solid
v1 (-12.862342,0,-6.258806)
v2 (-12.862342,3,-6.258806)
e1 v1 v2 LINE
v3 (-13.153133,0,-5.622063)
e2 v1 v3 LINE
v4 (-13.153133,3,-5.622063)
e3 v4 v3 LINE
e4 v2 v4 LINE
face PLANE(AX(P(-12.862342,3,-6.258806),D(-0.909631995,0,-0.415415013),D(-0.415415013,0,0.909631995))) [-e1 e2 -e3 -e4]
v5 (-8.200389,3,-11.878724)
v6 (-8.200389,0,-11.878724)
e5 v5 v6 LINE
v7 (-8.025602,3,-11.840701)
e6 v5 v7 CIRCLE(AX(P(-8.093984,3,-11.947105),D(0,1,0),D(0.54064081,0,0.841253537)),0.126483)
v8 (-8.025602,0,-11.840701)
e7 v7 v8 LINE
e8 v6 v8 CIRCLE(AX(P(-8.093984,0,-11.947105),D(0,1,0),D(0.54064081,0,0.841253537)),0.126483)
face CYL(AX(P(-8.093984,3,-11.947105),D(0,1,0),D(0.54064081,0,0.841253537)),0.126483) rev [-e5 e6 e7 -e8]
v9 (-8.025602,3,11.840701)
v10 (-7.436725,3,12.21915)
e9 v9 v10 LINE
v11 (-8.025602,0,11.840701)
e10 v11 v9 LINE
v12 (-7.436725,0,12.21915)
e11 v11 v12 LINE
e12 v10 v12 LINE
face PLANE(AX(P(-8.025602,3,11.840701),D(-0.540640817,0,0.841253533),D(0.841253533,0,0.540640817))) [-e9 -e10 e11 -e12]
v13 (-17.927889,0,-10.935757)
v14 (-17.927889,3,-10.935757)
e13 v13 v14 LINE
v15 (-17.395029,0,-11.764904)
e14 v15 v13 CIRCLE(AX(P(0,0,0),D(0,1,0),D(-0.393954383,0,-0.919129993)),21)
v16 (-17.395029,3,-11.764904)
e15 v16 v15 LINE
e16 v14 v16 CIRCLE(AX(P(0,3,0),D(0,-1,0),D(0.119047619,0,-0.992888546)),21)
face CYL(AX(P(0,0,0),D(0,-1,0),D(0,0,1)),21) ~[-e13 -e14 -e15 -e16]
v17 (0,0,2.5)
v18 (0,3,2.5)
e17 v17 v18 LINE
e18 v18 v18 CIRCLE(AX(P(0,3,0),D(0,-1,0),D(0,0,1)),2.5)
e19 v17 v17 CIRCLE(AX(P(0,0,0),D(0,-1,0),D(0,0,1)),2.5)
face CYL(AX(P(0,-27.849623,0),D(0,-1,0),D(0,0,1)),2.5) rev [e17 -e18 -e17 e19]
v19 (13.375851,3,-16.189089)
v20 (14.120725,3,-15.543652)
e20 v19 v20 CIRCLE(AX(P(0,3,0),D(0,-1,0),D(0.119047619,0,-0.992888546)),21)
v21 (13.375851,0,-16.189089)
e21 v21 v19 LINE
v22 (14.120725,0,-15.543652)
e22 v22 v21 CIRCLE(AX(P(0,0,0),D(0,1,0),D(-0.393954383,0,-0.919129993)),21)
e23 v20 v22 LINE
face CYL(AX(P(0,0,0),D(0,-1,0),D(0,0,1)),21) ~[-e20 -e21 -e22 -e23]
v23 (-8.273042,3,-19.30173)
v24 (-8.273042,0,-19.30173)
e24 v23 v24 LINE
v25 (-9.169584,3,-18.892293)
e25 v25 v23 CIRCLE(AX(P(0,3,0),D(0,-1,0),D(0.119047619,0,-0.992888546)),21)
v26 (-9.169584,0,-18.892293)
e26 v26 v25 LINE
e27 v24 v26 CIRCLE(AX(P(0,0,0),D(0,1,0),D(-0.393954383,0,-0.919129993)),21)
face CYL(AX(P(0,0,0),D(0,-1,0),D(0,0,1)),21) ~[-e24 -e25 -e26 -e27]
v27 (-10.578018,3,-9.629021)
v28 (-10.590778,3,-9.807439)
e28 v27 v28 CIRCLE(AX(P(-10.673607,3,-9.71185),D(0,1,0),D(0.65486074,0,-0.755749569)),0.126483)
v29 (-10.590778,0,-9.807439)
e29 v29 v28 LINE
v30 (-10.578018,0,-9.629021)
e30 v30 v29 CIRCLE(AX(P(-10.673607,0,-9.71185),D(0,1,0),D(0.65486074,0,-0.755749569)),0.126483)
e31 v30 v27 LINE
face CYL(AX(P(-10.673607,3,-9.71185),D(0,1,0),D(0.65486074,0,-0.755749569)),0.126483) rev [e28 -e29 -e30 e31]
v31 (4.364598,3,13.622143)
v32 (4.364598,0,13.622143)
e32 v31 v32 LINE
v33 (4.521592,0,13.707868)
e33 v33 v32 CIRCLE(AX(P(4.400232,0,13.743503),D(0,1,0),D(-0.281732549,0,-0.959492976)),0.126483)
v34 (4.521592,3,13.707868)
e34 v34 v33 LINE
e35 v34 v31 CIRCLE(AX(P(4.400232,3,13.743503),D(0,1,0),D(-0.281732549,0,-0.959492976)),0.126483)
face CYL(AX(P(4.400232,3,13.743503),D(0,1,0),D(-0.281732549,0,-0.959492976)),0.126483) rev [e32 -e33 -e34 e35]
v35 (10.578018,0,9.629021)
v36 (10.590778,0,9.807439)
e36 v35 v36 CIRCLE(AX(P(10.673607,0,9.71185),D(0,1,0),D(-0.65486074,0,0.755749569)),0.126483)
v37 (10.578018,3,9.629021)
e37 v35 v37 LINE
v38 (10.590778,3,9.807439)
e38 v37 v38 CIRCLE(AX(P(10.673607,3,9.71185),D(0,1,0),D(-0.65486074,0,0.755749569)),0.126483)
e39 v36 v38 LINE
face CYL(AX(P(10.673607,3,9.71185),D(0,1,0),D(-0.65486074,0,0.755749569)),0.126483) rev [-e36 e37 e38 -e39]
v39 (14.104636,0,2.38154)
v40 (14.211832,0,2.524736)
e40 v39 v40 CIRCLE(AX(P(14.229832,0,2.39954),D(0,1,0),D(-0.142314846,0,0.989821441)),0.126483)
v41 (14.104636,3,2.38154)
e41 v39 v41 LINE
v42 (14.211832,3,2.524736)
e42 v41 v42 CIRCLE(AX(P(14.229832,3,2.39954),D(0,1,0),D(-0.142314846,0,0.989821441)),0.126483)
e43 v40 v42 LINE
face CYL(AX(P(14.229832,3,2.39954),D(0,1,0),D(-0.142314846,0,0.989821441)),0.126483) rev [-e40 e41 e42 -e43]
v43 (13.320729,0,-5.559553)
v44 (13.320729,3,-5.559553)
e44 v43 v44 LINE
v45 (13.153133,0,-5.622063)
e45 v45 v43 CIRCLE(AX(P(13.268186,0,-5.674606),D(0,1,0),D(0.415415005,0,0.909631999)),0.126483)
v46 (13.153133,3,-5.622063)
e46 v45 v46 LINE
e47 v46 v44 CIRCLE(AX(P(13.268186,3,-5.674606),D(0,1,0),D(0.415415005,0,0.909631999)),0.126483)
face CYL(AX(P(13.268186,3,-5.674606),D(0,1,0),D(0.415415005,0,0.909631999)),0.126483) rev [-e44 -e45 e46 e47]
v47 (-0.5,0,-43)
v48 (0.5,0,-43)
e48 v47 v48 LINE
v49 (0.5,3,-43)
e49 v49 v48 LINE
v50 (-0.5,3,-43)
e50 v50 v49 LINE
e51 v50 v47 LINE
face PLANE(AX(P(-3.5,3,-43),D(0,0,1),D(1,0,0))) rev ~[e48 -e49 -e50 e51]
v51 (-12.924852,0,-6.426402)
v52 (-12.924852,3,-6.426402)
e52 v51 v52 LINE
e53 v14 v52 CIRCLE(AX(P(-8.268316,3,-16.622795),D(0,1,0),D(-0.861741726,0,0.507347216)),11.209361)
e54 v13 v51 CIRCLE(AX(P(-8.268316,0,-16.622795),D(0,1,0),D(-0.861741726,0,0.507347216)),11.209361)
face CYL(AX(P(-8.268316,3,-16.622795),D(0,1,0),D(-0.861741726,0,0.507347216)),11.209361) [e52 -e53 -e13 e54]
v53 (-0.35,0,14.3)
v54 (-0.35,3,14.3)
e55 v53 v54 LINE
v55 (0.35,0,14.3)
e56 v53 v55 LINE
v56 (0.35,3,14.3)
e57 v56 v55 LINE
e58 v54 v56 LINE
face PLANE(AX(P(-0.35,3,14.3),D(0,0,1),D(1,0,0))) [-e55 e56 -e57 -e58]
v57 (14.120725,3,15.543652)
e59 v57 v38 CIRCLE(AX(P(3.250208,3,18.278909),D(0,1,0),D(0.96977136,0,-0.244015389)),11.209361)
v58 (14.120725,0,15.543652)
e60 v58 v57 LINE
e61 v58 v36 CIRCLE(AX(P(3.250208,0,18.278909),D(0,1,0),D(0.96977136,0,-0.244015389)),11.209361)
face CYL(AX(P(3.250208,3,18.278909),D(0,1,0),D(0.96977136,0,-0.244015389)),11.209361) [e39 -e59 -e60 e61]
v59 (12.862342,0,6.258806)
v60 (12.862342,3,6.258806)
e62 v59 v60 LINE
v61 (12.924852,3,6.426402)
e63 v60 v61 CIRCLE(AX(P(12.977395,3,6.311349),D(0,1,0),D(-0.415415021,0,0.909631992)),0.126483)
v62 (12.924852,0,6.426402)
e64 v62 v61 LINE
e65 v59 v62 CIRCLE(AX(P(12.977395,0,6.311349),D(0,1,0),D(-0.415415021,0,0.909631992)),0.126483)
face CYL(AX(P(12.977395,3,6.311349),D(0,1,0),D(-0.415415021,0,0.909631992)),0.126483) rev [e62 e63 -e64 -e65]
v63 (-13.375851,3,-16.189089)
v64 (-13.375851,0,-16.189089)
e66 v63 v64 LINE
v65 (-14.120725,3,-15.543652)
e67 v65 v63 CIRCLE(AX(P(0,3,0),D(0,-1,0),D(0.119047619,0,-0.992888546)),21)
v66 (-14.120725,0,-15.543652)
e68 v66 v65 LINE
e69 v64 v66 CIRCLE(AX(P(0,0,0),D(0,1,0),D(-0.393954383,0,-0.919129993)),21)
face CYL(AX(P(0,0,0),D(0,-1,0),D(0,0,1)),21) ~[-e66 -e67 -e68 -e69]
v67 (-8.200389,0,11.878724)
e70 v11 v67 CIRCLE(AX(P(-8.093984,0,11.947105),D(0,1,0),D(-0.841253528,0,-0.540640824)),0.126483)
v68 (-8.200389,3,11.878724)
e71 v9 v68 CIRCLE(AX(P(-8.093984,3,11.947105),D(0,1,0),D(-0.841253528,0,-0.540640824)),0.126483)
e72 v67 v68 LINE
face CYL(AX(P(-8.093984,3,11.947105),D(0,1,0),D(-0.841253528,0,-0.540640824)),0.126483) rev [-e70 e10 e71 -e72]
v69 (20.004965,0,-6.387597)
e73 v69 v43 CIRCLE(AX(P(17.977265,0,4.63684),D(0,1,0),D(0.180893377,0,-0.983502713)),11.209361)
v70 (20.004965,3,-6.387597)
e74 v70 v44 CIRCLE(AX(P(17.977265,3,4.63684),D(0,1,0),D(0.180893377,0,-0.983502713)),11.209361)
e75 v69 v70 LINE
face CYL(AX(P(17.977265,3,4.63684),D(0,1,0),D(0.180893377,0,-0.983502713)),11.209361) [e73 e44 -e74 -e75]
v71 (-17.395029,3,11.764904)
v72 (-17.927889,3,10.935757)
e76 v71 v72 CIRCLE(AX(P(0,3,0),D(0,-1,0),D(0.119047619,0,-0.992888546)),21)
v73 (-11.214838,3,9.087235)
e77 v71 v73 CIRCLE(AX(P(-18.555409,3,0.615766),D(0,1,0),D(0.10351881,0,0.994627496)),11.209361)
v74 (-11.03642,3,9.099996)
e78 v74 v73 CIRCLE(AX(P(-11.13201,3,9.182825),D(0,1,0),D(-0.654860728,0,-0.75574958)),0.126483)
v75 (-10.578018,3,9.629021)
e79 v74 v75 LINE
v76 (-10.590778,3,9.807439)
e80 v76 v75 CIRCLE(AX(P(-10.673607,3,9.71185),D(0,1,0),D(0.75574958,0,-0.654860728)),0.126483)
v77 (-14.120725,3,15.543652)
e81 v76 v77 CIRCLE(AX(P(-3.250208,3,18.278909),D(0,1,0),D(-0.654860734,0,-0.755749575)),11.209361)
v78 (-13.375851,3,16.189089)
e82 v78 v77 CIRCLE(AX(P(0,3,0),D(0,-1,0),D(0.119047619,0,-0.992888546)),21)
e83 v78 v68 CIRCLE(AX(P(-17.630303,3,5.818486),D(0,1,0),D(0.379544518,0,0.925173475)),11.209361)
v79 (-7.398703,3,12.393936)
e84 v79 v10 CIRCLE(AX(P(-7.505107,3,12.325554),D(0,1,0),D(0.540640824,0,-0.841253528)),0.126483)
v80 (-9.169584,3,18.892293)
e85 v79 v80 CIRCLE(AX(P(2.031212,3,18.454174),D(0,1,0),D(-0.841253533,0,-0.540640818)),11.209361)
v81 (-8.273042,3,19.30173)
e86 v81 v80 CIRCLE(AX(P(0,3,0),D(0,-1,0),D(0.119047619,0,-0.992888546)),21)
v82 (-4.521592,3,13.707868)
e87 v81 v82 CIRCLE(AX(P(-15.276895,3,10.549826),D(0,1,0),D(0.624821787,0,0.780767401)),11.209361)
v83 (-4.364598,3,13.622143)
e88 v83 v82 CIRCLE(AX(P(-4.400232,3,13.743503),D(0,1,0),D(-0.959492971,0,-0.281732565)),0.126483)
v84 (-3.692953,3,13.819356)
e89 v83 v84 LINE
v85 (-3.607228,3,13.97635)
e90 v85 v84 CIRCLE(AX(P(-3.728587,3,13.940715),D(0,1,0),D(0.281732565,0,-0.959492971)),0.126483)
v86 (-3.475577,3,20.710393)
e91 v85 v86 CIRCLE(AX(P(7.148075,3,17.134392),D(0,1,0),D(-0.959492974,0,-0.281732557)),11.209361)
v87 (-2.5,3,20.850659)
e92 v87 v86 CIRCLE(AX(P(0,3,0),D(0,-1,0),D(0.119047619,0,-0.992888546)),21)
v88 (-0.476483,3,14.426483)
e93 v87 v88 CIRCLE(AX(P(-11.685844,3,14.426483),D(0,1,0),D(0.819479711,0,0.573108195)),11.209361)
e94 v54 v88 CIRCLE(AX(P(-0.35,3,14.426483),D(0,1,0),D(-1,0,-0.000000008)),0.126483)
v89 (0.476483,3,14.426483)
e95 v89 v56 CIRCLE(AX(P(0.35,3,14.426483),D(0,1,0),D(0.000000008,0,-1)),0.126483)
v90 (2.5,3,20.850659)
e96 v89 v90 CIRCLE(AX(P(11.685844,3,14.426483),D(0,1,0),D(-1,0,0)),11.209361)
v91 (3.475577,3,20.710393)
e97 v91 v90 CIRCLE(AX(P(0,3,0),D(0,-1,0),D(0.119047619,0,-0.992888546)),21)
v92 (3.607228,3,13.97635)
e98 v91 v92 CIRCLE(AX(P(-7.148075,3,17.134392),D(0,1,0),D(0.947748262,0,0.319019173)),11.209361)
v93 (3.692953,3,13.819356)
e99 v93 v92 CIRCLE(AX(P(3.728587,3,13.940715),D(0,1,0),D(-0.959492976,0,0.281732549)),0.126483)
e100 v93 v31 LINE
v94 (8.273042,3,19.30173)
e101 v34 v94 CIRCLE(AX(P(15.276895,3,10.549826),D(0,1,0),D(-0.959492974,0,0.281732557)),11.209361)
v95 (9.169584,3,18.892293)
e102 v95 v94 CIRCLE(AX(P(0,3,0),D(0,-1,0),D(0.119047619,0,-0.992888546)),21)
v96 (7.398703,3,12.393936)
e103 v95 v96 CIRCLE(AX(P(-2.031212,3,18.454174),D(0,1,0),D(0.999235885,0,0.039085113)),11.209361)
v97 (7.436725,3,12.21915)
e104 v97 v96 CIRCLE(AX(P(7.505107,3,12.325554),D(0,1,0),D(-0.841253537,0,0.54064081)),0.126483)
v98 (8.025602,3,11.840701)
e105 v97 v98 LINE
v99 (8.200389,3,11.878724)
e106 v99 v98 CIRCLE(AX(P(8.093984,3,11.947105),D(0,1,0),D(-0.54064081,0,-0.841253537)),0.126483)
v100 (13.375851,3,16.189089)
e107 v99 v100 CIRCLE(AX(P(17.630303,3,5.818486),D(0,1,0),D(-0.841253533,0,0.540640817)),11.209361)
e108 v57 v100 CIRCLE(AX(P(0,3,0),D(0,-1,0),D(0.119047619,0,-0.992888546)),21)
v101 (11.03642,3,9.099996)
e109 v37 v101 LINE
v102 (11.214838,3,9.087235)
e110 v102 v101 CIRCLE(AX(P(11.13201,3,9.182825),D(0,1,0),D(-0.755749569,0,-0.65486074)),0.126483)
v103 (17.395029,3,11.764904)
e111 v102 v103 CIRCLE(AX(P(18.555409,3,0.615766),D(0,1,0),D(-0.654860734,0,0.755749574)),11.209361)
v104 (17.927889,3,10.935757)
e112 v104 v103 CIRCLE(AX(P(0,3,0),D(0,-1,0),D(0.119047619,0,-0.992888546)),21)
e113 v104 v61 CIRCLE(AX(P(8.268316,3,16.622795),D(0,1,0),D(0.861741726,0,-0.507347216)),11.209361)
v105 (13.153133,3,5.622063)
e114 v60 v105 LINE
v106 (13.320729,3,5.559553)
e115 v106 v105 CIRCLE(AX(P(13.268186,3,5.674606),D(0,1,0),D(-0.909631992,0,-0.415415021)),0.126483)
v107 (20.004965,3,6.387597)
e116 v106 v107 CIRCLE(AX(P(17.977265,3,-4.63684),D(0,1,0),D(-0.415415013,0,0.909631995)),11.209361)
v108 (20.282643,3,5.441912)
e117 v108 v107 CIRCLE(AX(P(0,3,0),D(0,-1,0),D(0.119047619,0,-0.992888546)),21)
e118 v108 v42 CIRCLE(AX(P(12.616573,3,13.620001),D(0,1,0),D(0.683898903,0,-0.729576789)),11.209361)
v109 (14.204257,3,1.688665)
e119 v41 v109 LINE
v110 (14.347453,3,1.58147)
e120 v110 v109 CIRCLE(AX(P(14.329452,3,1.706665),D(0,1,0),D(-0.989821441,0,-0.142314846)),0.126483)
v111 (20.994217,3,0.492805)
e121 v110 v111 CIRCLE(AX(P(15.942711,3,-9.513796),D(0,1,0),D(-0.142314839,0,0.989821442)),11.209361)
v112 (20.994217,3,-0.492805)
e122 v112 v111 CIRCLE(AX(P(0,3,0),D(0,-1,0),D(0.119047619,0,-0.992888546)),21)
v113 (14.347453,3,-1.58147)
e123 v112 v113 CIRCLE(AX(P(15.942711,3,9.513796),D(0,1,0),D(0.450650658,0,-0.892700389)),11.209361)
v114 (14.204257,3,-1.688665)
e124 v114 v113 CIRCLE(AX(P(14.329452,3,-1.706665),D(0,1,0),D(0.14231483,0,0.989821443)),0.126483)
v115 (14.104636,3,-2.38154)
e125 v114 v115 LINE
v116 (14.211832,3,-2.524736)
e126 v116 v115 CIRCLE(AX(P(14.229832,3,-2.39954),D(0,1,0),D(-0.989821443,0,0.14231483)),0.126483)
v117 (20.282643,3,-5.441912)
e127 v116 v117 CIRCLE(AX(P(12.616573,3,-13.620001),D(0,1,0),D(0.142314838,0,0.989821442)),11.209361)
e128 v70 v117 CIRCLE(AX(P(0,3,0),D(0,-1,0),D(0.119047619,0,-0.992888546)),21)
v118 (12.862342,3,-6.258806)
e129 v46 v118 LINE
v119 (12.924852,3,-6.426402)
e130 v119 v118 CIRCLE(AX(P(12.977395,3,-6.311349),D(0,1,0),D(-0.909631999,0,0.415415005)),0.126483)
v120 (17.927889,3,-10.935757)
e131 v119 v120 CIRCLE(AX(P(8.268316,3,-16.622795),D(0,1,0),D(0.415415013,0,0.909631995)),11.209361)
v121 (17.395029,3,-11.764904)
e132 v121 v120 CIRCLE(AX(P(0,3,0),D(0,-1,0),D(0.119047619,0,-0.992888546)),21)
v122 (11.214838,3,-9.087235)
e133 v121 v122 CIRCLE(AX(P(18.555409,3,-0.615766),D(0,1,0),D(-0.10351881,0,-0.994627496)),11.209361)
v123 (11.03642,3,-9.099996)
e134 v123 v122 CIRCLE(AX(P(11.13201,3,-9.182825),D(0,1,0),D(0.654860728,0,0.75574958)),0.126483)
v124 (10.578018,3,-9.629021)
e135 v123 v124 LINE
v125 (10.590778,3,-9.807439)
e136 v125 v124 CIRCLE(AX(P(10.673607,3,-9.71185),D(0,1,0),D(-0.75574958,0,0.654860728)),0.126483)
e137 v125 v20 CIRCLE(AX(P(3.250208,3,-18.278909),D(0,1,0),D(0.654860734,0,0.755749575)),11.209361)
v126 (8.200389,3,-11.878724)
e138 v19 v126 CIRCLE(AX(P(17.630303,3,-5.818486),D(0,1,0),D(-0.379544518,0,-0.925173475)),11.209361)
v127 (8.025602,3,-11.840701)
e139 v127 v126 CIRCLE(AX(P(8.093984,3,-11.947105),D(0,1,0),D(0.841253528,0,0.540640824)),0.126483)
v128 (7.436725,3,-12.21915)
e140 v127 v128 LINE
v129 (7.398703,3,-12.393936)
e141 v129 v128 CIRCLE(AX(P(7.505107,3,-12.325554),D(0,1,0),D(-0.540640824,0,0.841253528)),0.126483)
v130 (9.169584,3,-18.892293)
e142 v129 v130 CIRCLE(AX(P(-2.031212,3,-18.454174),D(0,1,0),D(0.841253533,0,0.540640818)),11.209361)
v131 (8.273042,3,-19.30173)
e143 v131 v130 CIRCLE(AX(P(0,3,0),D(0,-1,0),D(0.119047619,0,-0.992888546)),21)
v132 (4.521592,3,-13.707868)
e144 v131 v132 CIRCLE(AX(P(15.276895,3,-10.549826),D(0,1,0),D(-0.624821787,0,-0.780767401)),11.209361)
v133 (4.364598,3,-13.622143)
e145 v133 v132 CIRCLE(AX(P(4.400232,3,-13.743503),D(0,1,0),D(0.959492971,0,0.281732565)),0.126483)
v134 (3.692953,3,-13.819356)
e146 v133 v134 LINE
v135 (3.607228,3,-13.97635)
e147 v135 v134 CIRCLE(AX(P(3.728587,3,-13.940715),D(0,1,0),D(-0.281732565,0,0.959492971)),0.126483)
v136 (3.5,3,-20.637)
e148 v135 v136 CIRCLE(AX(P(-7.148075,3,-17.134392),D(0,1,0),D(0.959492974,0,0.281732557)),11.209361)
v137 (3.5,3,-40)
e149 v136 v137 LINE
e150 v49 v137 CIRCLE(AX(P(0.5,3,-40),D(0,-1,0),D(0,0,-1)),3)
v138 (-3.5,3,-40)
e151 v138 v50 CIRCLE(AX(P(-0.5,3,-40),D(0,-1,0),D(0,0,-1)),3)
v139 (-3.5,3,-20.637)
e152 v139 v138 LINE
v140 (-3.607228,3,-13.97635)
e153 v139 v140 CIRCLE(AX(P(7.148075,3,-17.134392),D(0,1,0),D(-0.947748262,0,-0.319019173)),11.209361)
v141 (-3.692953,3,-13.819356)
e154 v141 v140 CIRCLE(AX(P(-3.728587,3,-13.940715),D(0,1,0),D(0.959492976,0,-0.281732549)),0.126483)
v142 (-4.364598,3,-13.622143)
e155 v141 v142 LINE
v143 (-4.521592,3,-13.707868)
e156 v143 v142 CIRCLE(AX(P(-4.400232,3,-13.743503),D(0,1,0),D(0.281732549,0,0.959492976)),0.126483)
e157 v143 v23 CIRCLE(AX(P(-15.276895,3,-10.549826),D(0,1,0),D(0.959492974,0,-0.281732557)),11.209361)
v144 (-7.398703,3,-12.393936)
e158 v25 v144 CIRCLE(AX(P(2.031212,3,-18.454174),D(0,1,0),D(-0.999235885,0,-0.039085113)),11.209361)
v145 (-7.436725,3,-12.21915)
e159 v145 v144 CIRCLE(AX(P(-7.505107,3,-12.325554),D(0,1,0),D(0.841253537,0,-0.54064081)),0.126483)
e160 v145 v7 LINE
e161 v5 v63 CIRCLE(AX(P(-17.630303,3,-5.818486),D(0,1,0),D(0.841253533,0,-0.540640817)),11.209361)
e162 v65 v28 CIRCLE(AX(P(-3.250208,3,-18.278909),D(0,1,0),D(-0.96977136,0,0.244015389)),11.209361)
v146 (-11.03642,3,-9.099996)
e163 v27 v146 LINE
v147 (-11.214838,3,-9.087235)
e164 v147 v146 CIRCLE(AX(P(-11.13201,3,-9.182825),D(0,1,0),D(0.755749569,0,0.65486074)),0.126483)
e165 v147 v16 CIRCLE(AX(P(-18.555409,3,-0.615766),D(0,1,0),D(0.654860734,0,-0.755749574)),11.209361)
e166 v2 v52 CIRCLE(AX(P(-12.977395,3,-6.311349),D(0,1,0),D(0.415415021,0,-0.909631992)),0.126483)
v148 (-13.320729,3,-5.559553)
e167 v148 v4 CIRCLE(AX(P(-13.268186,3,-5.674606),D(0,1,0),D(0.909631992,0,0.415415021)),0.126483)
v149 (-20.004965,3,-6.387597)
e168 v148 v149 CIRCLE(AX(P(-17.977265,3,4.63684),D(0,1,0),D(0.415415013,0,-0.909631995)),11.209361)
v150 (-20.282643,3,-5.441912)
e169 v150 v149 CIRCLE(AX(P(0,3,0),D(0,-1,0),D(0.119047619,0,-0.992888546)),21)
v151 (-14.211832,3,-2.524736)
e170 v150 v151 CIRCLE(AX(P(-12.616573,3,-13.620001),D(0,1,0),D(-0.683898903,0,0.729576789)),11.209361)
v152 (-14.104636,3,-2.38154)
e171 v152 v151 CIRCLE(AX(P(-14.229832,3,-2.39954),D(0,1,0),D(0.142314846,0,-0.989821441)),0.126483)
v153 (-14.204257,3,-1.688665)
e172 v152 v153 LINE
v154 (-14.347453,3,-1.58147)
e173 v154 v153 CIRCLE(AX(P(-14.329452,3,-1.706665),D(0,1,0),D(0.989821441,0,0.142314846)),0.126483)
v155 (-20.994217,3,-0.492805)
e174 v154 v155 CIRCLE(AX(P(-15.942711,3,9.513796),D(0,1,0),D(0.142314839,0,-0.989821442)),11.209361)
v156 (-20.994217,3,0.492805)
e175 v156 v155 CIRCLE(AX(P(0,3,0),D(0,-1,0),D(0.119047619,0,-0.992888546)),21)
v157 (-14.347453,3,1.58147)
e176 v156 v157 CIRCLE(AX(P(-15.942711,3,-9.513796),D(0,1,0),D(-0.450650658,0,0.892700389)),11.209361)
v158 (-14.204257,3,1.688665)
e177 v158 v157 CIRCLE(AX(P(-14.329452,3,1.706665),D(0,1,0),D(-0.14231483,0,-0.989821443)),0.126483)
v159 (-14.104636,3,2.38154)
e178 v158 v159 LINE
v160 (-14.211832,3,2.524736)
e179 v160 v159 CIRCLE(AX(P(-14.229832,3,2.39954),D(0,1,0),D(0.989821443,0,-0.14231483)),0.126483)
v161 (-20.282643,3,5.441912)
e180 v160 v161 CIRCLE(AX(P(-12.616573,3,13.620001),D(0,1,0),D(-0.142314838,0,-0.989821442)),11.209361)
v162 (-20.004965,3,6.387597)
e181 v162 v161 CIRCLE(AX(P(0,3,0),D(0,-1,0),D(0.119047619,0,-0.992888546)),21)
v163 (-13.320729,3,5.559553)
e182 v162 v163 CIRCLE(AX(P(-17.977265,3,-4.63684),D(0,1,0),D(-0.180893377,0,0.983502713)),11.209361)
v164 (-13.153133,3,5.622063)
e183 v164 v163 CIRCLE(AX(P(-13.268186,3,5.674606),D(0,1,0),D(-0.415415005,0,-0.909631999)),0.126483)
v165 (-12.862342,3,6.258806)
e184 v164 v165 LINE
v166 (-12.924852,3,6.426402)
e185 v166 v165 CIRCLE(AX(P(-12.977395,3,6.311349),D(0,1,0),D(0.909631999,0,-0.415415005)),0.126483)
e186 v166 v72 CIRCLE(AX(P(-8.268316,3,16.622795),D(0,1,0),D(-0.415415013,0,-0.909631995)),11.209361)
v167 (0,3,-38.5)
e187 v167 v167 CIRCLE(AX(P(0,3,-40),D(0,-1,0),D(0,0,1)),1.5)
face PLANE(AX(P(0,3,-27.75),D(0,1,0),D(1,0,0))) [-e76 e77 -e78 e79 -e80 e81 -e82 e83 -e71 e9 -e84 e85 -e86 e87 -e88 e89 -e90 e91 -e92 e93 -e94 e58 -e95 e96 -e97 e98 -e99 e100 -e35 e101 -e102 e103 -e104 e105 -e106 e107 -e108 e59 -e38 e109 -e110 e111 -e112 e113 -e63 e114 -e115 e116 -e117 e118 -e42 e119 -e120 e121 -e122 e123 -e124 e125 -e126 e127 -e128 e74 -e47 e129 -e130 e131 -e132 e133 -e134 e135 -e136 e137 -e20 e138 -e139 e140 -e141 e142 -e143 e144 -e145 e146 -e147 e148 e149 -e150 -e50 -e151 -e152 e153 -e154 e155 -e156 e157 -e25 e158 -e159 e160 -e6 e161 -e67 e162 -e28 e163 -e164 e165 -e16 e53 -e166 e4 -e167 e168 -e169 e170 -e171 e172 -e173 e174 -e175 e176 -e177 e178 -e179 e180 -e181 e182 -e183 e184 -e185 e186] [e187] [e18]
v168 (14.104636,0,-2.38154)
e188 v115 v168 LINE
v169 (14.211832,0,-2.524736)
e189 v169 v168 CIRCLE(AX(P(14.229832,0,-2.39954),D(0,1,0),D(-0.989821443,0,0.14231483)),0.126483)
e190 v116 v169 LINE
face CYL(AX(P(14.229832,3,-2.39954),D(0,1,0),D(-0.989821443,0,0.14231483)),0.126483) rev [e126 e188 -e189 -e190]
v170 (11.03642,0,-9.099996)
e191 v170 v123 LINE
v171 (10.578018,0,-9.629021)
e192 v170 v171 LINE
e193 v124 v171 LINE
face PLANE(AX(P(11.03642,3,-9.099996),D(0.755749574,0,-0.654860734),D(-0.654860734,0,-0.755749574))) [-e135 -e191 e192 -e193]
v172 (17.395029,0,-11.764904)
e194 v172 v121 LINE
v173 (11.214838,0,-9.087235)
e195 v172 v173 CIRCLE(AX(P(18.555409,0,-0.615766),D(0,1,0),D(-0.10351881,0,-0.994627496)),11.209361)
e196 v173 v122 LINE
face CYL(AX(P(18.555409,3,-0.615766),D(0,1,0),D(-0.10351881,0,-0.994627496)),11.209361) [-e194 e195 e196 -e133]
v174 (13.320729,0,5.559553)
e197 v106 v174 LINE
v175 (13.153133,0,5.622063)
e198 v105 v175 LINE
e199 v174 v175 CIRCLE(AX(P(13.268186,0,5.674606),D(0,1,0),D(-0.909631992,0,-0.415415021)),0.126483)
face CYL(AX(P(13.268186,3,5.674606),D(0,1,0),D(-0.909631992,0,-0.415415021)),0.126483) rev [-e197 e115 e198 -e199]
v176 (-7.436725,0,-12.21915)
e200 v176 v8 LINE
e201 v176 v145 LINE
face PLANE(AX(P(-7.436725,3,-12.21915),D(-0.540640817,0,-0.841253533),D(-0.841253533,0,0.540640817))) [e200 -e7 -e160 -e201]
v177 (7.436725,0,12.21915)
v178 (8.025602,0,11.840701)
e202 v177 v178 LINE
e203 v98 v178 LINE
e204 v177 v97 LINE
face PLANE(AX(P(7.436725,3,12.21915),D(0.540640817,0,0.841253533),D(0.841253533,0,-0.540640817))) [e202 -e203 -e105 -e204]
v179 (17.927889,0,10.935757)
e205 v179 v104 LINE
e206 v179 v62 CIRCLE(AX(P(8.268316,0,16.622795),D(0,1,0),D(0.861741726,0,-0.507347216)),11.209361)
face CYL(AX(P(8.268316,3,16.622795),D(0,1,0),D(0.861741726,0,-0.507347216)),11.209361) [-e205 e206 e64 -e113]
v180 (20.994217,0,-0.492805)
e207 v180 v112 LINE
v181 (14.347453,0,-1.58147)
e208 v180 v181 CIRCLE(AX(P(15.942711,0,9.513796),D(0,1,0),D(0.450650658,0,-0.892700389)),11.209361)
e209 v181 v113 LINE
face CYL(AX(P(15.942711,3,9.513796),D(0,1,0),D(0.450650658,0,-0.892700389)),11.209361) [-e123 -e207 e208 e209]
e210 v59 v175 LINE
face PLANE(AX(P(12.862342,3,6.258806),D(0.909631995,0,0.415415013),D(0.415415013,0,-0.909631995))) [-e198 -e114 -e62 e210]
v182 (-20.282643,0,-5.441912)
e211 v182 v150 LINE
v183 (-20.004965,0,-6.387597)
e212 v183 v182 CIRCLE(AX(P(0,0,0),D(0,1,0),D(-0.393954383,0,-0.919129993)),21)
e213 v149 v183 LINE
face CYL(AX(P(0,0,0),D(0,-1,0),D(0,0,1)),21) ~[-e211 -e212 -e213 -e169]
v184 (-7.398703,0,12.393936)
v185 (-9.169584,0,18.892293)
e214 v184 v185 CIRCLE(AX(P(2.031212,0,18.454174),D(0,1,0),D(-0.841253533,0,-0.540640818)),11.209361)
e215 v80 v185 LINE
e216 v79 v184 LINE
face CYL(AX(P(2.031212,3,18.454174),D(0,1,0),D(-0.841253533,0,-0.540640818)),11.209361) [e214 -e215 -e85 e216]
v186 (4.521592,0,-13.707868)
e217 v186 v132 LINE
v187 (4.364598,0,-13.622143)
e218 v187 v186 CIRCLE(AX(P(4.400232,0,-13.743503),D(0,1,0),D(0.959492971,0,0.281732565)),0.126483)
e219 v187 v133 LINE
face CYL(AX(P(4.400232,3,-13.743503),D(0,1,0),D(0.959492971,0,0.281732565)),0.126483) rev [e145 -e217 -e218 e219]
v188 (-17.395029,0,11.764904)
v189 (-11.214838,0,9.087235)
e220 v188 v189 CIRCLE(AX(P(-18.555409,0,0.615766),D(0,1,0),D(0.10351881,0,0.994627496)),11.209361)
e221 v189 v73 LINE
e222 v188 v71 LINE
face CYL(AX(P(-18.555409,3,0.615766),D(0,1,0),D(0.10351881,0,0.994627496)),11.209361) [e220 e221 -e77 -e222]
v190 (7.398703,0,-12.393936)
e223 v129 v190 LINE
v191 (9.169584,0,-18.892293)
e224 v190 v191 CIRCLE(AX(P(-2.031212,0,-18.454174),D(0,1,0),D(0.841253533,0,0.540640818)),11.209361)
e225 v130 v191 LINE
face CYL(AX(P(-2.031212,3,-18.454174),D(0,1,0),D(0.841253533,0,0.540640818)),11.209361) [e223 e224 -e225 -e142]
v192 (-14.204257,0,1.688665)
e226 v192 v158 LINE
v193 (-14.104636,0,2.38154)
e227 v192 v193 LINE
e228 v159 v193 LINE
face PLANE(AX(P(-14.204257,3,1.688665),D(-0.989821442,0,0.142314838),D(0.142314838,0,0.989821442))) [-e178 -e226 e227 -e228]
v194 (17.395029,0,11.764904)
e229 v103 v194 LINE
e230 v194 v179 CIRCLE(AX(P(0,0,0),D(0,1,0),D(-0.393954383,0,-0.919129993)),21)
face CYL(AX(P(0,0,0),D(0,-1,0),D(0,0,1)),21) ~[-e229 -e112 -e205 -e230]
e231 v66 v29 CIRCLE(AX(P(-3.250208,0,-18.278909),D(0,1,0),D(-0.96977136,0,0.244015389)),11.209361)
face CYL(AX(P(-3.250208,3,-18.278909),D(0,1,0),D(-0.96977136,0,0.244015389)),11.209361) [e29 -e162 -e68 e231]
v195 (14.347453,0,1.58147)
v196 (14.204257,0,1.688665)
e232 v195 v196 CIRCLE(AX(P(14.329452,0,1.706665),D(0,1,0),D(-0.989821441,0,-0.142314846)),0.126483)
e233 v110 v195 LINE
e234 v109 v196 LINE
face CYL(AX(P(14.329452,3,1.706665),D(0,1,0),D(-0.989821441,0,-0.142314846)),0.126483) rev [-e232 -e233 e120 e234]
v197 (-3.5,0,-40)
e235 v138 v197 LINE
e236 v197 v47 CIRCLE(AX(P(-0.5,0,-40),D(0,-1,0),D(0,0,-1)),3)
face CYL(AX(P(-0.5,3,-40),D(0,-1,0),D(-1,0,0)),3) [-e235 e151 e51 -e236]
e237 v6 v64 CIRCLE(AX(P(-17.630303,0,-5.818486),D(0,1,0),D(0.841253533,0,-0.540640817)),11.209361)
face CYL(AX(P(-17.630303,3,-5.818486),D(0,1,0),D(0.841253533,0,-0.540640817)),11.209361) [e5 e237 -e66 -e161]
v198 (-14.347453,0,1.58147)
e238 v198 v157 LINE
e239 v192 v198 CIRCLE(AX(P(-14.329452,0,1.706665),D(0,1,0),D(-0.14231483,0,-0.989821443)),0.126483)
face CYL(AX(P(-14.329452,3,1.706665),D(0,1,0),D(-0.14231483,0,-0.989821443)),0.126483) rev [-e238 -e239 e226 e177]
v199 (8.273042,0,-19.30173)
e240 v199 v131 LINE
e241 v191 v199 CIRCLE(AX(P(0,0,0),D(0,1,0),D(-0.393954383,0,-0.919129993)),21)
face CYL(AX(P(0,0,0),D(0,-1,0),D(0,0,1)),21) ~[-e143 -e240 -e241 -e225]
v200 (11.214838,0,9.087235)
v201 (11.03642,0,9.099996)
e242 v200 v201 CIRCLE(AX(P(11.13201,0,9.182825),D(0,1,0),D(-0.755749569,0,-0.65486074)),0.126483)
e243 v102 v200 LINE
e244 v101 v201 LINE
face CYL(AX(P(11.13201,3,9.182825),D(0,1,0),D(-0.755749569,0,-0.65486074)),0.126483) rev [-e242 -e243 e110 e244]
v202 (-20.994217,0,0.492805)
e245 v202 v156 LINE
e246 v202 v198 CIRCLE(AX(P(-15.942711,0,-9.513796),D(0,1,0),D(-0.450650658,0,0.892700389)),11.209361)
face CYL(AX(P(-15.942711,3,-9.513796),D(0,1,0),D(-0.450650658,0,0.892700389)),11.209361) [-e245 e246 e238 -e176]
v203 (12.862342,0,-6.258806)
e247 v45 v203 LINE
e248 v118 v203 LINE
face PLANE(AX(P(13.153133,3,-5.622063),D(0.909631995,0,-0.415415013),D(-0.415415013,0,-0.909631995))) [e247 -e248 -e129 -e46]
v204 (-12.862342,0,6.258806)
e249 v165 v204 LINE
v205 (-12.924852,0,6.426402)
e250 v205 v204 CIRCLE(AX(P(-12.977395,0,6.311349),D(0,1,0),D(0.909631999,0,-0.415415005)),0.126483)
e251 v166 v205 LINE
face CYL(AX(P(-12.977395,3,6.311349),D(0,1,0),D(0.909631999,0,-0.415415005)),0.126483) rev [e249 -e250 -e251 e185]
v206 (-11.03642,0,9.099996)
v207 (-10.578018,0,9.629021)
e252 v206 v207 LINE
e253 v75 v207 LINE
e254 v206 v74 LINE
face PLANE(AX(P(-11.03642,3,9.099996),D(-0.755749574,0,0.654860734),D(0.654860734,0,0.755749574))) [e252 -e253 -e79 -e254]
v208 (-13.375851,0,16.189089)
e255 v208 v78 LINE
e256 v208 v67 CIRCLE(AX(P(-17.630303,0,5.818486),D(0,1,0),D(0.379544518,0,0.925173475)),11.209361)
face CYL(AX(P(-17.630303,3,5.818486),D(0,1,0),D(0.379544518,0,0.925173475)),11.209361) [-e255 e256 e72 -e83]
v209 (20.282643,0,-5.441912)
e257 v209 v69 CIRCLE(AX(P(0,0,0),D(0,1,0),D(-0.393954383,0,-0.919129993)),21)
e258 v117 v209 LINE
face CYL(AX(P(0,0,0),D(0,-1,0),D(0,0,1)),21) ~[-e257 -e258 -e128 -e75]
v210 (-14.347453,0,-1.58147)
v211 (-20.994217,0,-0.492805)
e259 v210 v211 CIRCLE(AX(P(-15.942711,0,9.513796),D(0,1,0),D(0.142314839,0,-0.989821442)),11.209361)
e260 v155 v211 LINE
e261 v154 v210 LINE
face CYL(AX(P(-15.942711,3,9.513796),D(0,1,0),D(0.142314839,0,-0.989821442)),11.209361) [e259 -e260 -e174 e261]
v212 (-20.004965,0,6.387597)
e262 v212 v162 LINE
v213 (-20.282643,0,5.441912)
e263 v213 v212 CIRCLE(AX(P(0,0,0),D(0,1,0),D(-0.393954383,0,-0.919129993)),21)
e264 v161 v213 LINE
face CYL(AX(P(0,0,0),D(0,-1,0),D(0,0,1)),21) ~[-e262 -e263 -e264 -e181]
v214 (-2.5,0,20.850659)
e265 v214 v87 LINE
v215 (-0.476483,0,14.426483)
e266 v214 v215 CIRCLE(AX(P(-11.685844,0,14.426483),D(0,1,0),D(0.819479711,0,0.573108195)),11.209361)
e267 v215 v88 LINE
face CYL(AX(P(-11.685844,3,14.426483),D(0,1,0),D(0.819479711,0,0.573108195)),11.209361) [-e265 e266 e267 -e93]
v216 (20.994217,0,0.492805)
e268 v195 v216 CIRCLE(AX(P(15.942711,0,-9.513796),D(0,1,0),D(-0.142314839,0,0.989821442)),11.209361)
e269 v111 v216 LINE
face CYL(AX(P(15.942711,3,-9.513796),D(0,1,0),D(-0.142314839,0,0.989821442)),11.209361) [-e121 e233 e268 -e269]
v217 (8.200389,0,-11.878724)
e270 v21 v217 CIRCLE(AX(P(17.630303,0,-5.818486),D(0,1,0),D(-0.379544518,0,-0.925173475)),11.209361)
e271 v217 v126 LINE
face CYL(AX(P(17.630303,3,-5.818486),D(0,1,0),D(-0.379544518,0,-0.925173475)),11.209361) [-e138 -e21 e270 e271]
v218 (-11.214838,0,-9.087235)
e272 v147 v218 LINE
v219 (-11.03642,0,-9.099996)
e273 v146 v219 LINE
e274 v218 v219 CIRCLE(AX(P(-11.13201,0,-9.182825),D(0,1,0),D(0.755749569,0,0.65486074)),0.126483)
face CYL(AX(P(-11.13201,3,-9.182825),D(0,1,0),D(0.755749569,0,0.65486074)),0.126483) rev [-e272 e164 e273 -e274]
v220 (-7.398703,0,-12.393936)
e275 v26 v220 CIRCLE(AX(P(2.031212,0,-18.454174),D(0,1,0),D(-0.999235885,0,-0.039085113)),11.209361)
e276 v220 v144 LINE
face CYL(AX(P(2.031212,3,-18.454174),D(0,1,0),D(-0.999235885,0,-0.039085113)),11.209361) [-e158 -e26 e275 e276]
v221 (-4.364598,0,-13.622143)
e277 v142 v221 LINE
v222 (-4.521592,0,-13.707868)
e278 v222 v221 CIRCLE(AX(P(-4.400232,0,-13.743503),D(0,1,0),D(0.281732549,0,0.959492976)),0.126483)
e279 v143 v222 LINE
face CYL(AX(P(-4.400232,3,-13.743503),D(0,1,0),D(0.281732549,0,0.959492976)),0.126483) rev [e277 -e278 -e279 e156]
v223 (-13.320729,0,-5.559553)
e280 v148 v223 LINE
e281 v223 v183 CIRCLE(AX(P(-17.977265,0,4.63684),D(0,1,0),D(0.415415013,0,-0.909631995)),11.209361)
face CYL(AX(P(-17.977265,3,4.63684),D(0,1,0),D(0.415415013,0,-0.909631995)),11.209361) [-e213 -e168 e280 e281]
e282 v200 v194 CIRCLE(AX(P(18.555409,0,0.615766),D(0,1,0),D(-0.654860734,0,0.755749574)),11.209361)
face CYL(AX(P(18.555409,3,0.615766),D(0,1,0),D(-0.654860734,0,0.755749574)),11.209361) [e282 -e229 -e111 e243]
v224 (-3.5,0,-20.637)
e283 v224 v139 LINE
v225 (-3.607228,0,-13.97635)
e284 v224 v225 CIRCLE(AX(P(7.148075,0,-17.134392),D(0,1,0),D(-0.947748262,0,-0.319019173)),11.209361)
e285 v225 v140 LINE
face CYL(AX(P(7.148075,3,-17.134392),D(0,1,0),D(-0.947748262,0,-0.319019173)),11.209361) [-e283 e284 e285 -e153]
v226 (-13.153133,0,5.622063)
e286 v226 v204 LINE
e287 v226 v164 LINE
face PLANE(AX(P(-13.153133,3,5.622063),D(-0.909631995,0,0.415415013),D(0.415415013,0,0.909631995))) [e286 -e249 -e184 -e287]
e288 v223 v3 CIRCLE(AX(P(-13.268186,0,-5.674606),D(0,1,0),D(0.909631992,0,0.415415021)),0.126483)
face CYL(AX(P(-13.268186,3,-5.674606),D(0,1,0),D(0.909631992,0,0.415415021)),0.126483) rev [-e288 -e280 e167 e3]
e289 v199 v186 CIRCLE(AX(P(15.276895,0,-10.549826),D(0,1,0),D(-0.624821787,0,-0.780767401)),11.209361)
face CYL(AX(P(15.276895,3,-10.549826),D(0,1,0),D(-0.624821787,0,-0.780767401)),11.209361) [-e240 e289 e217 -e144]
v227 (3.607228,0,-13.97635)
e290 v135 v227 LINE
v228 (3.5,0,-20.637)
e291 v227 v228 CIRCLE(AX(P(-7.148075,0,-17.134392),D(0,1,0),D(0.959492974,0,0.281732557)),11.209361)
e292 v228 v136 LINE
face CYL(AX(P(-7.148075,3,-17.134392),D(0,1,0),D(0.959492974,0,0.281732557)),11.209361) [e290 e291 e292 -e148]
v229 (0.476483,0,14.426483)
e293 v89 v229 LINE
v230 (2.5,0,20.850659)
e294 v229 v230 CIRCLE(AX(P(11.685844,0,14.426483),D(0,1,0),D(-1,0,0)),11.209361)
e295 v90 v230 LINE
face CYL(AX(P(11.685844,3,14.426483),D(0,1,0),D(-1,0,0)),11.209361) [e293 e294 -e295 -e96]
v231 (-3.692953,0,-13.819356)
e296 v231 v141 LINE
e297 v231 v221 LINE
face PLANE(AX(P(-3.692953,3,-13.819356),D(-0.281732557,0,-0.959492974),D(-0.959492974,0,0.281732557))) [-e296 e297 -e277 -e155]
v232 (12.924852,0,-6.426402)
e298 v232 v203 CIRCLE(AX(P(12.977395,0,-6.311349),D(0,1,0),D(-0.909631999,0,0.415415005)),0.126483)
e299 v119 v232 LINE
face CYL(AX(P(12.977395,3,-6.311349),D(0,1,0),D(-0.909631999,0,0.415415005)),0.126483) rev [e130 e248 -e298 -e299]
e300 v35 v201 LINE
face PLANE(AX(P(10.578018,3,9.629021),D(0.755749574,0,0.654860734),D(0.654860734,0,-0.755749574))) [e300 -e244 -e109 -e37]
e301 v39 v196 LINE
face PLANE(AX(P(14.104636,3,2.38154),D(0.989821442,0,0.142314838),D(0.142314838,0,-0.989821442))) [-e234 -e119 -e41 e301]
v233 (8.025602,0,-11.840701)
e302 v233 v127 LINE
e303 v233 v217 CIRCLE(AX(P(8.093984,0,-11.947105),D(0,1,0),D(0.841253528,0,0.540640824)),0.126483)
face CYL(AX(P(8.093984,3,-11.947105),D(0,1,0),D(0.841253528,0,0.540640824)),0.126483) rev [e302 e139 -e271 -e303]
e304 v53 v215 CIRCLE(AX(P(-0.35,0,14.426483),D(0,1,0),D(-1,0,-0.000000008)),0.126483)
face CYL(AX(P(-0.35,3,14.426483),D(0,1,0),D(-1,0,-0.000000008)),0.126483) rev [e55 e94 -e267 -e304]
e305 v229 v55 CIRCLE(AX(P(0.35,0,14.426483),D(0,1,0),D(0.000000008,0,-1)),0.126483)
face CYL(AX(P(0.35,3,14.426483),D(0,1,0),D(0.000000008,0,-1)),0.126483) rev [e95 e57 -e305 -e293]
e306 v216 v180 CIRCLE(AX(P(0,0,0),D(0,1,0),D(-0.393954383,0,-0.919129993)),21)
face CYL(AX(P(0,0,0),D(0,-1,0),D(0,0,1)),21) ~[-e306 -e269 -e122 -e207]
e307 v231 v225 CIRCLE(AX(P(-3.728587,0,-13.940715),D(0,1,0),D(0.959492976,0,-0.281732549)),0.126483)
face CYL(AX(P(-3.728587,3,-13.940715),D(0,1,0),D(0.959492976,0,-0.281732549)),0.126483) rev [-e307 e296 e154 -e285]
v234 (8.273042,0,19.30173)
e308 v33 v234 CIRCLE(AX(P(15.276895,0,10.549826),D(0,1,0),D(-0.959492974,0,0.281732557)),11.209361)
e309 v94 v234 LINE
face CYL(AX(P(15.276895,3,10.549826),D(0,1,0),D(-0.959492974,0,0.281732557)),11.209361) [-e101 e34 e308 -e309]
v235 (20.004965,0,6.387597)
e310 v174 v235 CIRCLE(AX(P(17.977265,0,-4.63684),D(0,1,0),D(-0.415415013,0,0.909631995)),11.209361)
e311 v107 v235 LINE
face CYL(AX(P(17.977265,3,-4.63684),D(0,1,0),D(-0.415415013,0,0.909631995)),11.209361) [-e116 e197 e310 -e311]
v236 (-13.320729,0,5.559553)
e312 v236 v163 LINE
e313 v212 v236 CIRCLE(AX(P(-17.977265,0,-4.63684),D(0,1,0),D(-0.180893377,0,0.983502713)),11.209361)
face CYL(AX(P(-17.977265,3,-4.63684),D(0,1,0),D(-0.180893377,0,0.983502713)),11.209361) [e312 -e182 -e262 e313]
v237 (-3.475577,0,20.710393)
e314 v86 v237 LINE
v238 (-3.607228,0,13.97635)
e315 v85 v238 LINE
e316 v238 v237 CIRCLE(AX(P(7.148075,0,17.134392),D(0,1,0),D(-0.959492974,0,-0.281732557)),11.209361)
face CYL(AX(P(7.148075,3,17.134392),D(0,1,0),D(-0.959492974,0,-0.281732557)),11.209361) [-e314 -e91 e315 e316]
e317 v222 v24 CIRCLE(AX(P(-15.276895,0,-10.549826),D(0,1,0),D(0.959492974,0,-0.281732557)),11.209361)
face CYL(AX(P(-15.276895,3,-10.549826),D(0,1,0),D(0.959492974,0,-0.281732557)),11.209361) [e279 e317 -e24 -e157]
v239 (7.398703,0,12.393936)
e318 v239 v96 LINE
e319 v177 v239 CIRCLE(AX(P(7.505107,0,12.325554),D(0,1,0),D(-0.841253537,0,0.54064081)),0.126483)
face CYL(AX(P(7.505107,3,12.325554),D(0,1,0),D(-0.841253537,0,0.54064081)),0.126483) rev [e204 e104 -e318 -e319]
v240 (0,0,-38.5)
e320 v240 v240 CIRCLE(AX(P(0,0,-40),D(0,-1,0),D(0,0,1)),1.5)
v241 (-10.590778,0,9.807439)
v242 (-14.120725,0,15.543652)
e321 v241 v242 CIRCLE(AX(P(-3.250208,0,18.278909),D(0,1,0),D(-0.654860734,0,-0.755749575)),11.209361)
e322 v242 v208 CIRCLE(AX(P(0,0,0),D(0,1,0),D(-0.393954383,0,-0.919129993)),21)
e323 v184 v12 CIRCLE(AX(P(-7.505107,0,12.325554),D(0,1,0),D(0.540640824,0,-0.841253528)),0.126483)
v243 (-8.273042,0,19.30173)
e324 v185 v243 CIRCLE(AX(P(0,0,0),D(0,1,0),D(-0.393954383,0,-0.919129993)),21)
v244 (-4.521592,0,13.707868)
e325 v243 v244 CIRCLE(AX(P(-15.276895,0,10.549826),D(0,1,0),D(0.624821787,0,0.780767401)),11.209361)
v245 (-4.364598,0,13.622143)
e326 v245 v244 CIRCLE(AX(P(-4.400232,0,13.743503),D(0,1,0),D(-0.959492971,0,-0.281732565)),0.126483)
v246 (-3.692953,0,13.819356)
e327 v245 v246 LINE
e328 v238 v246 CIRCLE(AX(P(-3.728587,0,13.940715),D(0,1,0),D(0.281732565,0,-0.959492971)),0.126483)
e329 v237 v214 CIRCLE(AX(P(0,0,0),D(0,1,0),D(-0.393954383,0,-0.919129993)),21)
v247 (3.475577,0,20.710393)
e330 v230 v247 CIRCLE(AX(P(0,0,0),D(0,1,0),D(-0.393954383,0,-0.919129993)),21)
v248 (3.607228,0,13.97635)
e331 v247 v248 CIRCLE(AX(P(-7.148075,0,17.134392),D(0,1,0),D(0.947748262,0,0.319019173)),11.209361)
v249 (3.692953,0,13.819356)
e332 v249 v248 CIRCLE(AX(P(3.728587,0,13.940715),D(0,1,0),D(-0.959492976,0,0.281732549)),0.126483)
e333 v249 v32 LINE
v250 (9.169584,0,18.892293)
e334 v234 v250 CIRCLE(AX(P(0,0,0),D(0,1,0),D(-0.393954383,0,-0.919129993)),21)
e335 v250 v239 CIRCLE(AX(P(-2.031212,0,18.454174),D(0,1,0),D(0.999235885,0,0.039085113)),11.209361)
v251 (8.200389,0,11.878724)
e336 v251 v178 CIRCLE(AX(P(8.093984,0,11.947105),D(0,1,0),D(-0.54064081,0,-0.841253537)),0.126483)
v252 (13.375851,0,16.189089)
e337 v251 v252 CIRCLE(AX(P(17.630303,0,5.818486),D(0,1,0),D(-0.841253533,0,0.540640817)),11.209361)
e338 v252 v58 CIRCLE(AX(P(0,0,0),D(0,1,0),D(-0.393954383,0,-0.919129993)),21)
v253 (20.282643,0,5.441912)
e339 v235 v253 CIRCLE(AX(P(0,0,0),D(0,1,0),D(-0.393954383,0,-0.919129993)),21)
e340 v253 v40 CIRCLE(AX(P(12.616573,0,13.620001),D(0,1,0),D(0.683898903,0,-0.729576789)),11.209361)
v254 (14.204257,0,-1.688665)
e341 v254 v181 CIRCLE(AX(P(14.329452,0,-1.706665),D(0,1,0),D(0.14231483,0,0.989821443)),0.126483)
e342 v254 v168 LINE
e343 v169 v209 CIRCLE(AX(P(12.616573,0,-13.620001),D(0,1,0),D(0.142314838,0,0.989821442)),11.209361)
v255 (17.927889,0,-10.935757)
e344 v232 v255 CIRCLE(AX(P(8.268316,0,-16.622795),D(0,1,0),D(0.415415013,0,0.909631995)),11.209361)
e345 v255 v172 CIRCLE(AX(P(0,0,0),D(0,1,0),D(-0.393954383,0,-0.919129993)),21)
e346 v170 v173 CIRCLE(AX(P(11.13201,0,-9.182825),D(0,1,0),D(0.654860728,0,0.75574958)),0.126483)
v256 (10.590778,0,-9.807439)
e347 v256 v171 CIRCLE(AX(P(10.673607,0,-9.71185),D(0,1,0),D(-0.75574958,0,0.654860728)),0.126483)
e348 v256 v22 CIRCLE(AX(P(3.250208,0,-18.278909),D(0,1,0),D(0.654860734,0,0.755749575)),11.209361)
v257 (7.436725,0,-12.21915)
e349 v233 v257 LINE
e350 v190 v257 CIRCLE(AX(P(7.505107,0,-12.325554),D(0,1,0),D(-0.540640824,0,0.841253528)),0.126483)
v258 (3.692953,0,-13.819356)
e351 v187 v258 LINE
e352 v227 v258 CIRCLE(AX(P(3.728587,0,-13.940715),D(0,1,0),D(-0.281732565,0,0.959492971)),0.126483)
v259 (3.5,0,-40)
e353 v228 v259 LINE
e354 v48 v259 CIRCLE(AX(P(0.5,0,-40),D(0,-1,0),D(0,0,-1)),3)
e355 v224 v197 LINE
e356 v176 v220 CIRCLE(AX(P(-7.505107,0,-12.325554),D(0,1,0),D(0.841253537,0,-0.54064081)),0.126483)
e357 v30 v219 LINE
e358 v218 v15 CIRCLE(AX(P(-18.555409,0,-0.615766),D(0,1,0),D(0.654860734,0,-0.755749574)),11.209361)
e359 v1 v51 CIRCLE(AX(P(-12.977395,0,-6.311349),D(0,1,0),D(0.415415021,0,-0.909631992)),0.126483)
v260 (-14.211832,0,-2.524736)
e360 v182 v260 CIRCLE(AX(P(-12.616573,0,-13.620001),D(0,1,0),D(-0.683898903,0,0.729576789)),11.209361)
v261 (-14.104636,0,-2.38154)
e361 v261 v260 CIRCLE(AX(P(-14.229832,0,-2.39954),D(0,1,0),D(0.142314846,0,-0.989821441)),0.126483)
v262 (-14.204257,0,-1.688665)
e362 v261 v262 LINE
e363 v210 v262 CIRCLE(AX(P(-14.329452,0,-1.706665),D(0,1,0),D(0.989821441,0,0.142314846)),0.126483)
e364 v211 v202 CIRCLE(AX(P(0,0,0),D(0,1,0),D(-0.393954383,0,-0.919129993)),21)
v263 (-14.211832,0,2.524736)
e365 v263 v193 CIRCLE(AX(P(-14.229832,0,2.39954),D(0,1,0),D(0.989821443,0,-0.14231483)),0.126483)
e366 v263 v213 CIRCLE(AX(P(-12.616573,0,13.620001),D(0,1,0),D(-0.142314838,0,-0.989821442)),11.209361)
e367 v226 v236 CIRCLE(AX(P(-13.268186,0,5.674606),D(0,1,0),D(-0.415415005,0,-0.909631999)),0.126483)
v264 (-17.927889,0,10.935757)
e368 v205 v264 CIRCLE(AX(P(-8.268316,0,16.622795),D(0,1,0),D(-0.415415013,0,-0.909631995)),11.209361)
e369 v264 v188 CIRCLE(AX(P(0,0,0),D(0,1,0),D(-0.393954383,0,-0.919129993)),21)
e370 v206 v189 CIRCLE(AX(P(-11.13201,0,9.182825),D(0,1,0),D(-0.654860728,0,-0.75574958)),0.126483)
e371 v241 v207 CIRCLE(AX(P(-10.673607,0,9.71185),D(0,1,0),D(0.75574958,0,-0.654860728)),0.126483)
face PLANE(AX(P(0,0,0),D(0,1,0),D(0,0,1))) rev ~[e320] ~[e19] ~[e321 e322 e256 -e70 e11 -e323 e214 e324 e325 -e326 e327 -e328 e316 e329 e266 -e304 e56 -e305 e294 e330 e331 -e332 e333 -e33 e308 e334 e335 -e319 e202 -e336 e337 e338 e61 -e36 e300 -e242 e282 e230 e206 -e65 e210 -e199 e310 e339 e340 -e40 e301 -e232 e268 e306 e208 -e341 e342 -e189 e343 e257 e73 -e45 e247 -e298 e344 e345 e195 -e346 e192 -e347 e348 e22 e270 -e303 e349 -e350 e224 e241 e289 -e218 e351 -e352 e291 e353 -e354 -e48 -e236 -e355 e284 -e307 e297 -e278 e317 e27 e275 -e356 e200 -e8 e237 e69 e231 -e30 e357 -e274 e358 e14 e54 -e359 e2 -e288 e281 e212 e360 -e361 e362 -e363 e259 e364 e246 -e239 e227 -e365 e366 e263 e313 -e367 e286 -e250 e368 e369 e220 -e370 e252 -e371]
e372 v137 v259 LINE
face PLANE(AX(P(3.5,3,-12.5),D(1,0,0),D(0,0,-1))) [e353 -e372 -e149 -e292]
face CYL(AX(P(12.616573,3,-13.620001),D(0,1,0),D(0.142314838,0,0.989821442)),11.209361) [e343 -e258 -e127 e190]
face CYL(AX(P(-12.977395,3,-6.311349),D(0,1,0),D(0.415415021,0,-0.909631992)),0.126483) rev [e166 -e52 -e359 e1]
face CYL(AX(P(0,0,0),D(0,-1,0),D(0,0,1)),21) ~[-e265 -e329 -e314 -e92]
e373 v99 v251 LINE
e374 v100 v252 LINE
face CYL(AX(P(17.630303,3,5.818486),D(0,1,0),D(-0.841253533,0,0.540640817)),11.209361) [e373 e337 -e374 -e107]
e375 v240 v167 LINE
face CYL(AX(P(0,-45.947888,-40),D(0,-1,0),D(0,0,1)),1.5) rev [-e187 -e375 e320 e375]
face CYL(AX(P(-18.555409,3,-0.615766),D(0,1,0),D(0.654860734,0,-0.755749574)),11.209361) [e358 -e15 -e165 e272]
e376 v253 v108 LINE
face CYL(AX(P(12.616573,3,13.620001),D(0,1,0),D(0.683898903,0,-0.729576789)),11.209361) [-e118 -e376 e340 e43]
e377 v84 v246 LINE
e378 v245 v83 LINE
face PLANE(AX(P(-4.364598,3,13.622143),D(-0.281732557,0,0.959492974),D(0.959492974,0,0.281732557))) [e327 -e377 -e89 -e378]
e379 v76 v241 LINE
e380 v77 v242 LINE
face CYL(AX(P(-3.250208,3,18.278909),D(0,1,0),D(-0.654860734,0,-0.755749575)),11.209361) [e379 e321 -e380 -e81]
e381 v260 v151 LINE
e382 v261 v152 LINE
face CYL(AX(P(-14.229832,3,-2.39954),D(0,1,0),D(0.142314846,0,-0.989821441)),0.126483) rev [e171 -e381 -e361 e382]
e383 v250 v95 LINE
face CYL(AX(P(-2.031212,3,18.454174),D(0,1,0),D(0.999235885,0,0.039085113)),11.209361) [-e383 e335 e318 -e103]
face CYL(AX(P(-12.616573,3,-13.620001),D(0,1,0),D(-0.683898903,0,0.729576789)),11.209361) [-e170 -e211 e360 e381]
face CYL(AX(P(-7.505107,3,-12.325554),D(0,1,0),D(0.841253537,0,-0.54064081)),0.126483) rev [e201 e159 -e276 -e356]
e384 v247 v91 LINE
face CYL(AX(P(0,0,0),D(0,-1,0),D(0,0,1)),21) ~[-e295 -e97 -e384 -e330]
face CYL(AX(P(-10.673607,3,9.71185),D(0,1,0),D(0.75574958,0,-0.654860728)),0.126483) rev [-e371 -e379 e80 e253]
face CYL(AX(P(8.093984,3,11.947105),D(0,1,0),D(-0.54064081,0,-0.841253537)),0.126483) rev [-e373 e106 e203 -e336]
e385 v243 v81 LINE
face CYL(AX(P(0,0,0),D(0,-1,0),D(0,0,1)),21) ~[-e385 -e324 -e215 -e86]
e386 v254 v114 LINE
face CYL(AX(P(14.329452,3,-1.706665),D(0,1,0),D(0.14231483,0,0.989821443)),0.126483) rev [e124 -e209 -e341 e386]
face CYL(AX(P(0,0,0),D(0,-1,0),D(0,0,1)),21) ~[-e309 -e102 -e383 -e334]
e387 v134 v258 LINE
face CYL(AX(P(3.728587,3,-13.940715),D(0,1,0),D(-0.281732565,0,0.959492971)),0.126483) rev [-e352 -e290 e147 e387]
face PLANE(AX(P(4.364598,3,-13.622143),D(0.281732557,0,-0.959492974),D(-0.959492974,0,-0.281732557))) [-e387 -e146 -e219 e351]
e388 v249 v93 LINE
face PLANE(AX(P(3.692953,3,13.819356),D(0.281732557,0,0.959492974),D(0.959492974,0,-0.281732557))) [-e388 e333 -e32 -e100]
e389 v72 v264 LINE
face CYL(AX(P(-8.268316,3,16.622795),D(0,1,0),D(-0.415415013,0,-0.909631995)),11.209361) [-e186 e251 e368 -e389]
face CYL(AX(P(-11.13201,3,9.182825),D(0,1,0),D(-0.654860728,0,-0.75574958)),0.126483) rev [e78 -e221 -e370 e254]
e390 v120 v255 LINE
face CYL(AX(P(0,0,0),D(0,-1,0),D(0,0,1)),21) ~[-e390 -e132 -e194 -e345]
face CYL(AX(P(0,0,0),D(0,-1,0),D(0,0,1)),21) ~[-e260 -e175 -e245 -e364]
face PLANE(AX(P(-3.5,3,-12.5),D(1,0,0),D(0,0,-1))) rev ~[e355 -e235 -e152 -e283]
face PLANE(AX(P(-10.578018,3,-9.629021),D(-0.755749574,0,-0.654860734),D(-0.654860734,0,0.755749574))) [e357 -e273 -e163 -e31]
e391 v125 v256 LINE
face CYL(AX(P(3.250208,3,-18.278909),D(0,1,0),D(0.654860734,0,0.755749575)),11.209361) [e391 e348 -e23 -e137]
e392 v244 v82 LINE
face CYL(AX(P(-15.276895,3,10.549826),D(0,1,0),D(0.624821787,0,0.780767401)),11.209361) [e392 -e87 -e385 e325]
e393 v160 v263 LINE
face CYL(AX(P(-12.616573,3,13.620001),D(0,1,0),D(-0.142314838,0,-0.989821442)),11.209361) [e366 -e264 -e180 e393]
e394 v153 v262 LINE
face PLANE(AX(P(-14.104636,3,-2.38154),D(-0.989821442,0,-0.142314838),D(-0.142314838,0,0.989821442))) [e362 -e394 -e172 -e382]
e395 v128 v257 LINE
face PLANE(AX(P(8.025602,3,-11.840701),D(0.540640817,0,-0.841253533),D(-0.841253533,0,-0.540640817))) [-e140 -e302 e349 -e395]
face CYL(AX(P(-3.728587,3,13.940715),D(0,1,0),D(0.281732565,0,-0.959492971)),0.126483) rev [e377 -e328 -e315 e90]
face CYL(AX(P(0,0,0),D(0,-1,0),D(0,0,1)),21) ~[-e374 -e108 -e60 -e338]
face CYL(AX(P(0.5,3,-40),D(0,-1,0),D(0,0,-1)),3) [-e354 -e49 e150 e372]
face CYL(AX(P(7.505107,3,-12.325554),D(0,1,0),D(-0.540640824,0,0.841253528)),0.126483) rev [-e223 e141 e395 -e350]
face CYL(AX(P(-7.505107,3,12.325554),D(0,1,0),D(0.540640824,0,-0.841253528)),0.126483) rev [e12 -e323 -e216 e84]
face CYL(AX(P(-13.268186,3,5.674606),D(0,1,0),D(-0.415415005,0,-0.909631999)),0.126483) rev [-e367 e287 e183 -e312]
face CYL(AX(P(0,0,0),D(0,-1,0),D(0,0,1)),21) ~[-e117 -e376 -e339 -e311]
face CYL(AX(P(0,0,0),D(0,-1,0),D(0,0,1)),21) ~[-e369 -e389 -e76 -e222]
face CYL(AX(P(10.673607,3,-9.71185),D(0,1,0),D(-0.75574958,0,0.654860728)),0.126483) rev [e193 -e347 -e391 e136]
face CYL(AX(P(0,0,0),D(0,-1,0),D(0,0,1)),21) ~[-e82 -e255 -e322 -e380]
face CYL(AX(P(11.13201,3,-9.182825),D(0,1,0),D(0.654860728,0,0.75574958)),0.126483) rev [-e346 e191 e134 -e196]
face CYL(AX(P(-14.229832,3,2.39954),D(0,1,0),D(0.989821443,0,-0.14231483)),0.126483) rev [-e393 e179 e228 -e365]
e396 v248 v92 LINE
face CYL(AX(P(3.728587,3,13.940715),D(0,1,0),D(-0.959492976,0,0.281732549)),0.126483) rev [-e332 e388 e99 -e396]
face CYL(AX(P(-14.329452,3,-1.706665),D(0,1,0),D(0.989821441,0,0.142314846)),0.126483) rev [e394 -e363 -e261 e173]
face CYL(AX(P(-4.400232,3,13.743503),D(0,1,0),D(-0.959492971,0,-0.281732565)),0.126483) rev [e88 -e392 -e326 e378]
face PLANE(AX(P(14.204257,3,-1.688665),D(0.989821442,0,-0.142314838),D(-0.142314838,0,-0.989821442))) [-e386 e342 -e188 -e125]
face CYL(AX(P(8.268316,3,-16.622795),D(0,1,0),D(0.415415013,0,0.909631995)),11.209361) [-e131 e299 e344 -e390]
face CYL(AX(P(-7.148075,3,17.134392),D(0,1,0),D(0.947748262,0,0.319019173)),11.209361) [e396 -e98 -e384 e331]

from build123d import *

# Parameters (mm, degrees)
SKETCH1_R               = 21
BOSS_EXTRUDE1_DEPTH     = 3
CUT_EXTRUDE1_DEPTH      = 30.849623113
CUT_EXTRUDE1_DEPTH_BACK = 30.849623113
SKETCH2_R               = 2.5
CUT_EXTRUDE2_DEPTH      = 30.849623113
CIRPATTERN1_COUNT       = 22
SKETCH4_W               = 7
SKETCH4_H               = 30.5
BOSS_EXTRUDE2_DEPTH     = 3
FILLET1_R               = 3
CUT_EXTRUDE3_DEPTH      = 48.947888379
CUT_EXTRUDE3_DEPTH_BACK = 48.947888379
SKETCH5_R               = 1.5


with BuildPart() as part:
    # Sketch1 → Boss-Extrude1 (new body)
    with BuildSketch(Plane(origin=(0, 0, 0), x_dir=(1, 0, 0), z_dir=(0, 1, 0))):
        with Locations(Location((0, 0, 0), (0, 0, 270))):
            Circle(SKETCH1_R)
    extrude(amount=BOSS_EXTRUDE1_DEPTH)

    # Sketch2 → Cut-Extrude1 (cut, two sides: drawn at the far end of the back side and taken through both)
    with BuildSketch(Plane(origin=(0, 3, 0), x_dir=(1, 0, 0), z_dir=(0, 1, 0)).offset(-CUT_EXTRUDE1_DEPTH_BACK)):
        with Locations(Location((0, 0, 0), (0, 0, 270))):
            Circle(SKETCH2_R)
    extrude(amount=CUT_EXTRUDE1_DEPTH + CUT_EXTRUDE1_DEPTH_BACK, mode=Mode.SUBTRACT)

    # Sketch3 → Cut-Extrude2 (cut, symmetric)
    with BuildSketch(Plane(origin=(0, 3, 0), x_dir=(1, 0, 0), z_dir=(0, 1, 0))):
        with BuildLine():
            Line((0.35, 14.3), (-0.35, 14.3))
            ThreePointArc((-0.35, 14.3), (-0.439436957, 14.337046001), (-0.476482958, 14.426482958))
            ThreePointArc((-0.476482958, 14.426482958), (-0.994323602, 17.794147764), (-2.5, 20.850659462))
            ThreePointArc((-2.5, 20.850659462), (0, 21), (2.5, 20.850659462))
            ThreePointArc((2.5, 20.850659462), (0.994323602, 17.794147764), (0.476482958, 14.426482958))
            ThreePointArc((0.476482958, 14.426482958), (0.439436957, 14.337046001), (0.35, 14.3))
        make_face()
    cut_extrude2 = extrude(amount=CUT_EXTRUDE2_DEPTH, both=True, mode=Mode.SUBTRACT)

    # CirPattern1: Cut-Extrude2 ×22 about axis
    cirpattern1_axis = Axis((0, 0, 0), (0, 1, 0))
    for i in range(1, CIRPATTERN1_COUNT):
        add(cut_extrude2.rotate(cirpattern1_axis, i * 360 / CIRPATTERN1_COUNT), mode=Mode.SUBTRACT)

    # Sketch4 → Boss-Extrude2 (add)
    with BuildSketch(Plane(origin=(0, 3, 0), x_dir=(1, 0, 0), z_dir=(0, 1, 0))):
        with Locations((0, 27.75)):
            Rectangle(SKETCH4_W, SKETCH4_H)
    extrude(amount=-BOSS_EXTRUDE2_DEPTH)

    # Fillet1
    fillet1_edges = [part.edges().sort_by_distance(p)[0] for p in [
        (3.5, 1.5, -43),
        (-3.5, 1.5, -43),
    ]]
    fillet(fillet1_edges, radius=FILLET1_R)

    # Sketch5 → Cut-Extrude3 (cut, two sides: drawn at the far end of the back side and taken through both)
    with BuildSketch(Plane(origin=(0, 3, 0), x_dir=(1, 0, 0), z_dir=(0, 1, 0)).offset(-CUT_EXTRUDE3_DEPTH_BACK)):
        with Locations(Location((0, 40, 0), (0, 0, 270))):
            Circle(SKETCH5_R)
    extrude(amount=CUT_EXTRUDE3_DEPTH + CUT_EXTRUDE3_DEPTH_BACK, mode=Mode.SUBTRACT)


solid = part.part
